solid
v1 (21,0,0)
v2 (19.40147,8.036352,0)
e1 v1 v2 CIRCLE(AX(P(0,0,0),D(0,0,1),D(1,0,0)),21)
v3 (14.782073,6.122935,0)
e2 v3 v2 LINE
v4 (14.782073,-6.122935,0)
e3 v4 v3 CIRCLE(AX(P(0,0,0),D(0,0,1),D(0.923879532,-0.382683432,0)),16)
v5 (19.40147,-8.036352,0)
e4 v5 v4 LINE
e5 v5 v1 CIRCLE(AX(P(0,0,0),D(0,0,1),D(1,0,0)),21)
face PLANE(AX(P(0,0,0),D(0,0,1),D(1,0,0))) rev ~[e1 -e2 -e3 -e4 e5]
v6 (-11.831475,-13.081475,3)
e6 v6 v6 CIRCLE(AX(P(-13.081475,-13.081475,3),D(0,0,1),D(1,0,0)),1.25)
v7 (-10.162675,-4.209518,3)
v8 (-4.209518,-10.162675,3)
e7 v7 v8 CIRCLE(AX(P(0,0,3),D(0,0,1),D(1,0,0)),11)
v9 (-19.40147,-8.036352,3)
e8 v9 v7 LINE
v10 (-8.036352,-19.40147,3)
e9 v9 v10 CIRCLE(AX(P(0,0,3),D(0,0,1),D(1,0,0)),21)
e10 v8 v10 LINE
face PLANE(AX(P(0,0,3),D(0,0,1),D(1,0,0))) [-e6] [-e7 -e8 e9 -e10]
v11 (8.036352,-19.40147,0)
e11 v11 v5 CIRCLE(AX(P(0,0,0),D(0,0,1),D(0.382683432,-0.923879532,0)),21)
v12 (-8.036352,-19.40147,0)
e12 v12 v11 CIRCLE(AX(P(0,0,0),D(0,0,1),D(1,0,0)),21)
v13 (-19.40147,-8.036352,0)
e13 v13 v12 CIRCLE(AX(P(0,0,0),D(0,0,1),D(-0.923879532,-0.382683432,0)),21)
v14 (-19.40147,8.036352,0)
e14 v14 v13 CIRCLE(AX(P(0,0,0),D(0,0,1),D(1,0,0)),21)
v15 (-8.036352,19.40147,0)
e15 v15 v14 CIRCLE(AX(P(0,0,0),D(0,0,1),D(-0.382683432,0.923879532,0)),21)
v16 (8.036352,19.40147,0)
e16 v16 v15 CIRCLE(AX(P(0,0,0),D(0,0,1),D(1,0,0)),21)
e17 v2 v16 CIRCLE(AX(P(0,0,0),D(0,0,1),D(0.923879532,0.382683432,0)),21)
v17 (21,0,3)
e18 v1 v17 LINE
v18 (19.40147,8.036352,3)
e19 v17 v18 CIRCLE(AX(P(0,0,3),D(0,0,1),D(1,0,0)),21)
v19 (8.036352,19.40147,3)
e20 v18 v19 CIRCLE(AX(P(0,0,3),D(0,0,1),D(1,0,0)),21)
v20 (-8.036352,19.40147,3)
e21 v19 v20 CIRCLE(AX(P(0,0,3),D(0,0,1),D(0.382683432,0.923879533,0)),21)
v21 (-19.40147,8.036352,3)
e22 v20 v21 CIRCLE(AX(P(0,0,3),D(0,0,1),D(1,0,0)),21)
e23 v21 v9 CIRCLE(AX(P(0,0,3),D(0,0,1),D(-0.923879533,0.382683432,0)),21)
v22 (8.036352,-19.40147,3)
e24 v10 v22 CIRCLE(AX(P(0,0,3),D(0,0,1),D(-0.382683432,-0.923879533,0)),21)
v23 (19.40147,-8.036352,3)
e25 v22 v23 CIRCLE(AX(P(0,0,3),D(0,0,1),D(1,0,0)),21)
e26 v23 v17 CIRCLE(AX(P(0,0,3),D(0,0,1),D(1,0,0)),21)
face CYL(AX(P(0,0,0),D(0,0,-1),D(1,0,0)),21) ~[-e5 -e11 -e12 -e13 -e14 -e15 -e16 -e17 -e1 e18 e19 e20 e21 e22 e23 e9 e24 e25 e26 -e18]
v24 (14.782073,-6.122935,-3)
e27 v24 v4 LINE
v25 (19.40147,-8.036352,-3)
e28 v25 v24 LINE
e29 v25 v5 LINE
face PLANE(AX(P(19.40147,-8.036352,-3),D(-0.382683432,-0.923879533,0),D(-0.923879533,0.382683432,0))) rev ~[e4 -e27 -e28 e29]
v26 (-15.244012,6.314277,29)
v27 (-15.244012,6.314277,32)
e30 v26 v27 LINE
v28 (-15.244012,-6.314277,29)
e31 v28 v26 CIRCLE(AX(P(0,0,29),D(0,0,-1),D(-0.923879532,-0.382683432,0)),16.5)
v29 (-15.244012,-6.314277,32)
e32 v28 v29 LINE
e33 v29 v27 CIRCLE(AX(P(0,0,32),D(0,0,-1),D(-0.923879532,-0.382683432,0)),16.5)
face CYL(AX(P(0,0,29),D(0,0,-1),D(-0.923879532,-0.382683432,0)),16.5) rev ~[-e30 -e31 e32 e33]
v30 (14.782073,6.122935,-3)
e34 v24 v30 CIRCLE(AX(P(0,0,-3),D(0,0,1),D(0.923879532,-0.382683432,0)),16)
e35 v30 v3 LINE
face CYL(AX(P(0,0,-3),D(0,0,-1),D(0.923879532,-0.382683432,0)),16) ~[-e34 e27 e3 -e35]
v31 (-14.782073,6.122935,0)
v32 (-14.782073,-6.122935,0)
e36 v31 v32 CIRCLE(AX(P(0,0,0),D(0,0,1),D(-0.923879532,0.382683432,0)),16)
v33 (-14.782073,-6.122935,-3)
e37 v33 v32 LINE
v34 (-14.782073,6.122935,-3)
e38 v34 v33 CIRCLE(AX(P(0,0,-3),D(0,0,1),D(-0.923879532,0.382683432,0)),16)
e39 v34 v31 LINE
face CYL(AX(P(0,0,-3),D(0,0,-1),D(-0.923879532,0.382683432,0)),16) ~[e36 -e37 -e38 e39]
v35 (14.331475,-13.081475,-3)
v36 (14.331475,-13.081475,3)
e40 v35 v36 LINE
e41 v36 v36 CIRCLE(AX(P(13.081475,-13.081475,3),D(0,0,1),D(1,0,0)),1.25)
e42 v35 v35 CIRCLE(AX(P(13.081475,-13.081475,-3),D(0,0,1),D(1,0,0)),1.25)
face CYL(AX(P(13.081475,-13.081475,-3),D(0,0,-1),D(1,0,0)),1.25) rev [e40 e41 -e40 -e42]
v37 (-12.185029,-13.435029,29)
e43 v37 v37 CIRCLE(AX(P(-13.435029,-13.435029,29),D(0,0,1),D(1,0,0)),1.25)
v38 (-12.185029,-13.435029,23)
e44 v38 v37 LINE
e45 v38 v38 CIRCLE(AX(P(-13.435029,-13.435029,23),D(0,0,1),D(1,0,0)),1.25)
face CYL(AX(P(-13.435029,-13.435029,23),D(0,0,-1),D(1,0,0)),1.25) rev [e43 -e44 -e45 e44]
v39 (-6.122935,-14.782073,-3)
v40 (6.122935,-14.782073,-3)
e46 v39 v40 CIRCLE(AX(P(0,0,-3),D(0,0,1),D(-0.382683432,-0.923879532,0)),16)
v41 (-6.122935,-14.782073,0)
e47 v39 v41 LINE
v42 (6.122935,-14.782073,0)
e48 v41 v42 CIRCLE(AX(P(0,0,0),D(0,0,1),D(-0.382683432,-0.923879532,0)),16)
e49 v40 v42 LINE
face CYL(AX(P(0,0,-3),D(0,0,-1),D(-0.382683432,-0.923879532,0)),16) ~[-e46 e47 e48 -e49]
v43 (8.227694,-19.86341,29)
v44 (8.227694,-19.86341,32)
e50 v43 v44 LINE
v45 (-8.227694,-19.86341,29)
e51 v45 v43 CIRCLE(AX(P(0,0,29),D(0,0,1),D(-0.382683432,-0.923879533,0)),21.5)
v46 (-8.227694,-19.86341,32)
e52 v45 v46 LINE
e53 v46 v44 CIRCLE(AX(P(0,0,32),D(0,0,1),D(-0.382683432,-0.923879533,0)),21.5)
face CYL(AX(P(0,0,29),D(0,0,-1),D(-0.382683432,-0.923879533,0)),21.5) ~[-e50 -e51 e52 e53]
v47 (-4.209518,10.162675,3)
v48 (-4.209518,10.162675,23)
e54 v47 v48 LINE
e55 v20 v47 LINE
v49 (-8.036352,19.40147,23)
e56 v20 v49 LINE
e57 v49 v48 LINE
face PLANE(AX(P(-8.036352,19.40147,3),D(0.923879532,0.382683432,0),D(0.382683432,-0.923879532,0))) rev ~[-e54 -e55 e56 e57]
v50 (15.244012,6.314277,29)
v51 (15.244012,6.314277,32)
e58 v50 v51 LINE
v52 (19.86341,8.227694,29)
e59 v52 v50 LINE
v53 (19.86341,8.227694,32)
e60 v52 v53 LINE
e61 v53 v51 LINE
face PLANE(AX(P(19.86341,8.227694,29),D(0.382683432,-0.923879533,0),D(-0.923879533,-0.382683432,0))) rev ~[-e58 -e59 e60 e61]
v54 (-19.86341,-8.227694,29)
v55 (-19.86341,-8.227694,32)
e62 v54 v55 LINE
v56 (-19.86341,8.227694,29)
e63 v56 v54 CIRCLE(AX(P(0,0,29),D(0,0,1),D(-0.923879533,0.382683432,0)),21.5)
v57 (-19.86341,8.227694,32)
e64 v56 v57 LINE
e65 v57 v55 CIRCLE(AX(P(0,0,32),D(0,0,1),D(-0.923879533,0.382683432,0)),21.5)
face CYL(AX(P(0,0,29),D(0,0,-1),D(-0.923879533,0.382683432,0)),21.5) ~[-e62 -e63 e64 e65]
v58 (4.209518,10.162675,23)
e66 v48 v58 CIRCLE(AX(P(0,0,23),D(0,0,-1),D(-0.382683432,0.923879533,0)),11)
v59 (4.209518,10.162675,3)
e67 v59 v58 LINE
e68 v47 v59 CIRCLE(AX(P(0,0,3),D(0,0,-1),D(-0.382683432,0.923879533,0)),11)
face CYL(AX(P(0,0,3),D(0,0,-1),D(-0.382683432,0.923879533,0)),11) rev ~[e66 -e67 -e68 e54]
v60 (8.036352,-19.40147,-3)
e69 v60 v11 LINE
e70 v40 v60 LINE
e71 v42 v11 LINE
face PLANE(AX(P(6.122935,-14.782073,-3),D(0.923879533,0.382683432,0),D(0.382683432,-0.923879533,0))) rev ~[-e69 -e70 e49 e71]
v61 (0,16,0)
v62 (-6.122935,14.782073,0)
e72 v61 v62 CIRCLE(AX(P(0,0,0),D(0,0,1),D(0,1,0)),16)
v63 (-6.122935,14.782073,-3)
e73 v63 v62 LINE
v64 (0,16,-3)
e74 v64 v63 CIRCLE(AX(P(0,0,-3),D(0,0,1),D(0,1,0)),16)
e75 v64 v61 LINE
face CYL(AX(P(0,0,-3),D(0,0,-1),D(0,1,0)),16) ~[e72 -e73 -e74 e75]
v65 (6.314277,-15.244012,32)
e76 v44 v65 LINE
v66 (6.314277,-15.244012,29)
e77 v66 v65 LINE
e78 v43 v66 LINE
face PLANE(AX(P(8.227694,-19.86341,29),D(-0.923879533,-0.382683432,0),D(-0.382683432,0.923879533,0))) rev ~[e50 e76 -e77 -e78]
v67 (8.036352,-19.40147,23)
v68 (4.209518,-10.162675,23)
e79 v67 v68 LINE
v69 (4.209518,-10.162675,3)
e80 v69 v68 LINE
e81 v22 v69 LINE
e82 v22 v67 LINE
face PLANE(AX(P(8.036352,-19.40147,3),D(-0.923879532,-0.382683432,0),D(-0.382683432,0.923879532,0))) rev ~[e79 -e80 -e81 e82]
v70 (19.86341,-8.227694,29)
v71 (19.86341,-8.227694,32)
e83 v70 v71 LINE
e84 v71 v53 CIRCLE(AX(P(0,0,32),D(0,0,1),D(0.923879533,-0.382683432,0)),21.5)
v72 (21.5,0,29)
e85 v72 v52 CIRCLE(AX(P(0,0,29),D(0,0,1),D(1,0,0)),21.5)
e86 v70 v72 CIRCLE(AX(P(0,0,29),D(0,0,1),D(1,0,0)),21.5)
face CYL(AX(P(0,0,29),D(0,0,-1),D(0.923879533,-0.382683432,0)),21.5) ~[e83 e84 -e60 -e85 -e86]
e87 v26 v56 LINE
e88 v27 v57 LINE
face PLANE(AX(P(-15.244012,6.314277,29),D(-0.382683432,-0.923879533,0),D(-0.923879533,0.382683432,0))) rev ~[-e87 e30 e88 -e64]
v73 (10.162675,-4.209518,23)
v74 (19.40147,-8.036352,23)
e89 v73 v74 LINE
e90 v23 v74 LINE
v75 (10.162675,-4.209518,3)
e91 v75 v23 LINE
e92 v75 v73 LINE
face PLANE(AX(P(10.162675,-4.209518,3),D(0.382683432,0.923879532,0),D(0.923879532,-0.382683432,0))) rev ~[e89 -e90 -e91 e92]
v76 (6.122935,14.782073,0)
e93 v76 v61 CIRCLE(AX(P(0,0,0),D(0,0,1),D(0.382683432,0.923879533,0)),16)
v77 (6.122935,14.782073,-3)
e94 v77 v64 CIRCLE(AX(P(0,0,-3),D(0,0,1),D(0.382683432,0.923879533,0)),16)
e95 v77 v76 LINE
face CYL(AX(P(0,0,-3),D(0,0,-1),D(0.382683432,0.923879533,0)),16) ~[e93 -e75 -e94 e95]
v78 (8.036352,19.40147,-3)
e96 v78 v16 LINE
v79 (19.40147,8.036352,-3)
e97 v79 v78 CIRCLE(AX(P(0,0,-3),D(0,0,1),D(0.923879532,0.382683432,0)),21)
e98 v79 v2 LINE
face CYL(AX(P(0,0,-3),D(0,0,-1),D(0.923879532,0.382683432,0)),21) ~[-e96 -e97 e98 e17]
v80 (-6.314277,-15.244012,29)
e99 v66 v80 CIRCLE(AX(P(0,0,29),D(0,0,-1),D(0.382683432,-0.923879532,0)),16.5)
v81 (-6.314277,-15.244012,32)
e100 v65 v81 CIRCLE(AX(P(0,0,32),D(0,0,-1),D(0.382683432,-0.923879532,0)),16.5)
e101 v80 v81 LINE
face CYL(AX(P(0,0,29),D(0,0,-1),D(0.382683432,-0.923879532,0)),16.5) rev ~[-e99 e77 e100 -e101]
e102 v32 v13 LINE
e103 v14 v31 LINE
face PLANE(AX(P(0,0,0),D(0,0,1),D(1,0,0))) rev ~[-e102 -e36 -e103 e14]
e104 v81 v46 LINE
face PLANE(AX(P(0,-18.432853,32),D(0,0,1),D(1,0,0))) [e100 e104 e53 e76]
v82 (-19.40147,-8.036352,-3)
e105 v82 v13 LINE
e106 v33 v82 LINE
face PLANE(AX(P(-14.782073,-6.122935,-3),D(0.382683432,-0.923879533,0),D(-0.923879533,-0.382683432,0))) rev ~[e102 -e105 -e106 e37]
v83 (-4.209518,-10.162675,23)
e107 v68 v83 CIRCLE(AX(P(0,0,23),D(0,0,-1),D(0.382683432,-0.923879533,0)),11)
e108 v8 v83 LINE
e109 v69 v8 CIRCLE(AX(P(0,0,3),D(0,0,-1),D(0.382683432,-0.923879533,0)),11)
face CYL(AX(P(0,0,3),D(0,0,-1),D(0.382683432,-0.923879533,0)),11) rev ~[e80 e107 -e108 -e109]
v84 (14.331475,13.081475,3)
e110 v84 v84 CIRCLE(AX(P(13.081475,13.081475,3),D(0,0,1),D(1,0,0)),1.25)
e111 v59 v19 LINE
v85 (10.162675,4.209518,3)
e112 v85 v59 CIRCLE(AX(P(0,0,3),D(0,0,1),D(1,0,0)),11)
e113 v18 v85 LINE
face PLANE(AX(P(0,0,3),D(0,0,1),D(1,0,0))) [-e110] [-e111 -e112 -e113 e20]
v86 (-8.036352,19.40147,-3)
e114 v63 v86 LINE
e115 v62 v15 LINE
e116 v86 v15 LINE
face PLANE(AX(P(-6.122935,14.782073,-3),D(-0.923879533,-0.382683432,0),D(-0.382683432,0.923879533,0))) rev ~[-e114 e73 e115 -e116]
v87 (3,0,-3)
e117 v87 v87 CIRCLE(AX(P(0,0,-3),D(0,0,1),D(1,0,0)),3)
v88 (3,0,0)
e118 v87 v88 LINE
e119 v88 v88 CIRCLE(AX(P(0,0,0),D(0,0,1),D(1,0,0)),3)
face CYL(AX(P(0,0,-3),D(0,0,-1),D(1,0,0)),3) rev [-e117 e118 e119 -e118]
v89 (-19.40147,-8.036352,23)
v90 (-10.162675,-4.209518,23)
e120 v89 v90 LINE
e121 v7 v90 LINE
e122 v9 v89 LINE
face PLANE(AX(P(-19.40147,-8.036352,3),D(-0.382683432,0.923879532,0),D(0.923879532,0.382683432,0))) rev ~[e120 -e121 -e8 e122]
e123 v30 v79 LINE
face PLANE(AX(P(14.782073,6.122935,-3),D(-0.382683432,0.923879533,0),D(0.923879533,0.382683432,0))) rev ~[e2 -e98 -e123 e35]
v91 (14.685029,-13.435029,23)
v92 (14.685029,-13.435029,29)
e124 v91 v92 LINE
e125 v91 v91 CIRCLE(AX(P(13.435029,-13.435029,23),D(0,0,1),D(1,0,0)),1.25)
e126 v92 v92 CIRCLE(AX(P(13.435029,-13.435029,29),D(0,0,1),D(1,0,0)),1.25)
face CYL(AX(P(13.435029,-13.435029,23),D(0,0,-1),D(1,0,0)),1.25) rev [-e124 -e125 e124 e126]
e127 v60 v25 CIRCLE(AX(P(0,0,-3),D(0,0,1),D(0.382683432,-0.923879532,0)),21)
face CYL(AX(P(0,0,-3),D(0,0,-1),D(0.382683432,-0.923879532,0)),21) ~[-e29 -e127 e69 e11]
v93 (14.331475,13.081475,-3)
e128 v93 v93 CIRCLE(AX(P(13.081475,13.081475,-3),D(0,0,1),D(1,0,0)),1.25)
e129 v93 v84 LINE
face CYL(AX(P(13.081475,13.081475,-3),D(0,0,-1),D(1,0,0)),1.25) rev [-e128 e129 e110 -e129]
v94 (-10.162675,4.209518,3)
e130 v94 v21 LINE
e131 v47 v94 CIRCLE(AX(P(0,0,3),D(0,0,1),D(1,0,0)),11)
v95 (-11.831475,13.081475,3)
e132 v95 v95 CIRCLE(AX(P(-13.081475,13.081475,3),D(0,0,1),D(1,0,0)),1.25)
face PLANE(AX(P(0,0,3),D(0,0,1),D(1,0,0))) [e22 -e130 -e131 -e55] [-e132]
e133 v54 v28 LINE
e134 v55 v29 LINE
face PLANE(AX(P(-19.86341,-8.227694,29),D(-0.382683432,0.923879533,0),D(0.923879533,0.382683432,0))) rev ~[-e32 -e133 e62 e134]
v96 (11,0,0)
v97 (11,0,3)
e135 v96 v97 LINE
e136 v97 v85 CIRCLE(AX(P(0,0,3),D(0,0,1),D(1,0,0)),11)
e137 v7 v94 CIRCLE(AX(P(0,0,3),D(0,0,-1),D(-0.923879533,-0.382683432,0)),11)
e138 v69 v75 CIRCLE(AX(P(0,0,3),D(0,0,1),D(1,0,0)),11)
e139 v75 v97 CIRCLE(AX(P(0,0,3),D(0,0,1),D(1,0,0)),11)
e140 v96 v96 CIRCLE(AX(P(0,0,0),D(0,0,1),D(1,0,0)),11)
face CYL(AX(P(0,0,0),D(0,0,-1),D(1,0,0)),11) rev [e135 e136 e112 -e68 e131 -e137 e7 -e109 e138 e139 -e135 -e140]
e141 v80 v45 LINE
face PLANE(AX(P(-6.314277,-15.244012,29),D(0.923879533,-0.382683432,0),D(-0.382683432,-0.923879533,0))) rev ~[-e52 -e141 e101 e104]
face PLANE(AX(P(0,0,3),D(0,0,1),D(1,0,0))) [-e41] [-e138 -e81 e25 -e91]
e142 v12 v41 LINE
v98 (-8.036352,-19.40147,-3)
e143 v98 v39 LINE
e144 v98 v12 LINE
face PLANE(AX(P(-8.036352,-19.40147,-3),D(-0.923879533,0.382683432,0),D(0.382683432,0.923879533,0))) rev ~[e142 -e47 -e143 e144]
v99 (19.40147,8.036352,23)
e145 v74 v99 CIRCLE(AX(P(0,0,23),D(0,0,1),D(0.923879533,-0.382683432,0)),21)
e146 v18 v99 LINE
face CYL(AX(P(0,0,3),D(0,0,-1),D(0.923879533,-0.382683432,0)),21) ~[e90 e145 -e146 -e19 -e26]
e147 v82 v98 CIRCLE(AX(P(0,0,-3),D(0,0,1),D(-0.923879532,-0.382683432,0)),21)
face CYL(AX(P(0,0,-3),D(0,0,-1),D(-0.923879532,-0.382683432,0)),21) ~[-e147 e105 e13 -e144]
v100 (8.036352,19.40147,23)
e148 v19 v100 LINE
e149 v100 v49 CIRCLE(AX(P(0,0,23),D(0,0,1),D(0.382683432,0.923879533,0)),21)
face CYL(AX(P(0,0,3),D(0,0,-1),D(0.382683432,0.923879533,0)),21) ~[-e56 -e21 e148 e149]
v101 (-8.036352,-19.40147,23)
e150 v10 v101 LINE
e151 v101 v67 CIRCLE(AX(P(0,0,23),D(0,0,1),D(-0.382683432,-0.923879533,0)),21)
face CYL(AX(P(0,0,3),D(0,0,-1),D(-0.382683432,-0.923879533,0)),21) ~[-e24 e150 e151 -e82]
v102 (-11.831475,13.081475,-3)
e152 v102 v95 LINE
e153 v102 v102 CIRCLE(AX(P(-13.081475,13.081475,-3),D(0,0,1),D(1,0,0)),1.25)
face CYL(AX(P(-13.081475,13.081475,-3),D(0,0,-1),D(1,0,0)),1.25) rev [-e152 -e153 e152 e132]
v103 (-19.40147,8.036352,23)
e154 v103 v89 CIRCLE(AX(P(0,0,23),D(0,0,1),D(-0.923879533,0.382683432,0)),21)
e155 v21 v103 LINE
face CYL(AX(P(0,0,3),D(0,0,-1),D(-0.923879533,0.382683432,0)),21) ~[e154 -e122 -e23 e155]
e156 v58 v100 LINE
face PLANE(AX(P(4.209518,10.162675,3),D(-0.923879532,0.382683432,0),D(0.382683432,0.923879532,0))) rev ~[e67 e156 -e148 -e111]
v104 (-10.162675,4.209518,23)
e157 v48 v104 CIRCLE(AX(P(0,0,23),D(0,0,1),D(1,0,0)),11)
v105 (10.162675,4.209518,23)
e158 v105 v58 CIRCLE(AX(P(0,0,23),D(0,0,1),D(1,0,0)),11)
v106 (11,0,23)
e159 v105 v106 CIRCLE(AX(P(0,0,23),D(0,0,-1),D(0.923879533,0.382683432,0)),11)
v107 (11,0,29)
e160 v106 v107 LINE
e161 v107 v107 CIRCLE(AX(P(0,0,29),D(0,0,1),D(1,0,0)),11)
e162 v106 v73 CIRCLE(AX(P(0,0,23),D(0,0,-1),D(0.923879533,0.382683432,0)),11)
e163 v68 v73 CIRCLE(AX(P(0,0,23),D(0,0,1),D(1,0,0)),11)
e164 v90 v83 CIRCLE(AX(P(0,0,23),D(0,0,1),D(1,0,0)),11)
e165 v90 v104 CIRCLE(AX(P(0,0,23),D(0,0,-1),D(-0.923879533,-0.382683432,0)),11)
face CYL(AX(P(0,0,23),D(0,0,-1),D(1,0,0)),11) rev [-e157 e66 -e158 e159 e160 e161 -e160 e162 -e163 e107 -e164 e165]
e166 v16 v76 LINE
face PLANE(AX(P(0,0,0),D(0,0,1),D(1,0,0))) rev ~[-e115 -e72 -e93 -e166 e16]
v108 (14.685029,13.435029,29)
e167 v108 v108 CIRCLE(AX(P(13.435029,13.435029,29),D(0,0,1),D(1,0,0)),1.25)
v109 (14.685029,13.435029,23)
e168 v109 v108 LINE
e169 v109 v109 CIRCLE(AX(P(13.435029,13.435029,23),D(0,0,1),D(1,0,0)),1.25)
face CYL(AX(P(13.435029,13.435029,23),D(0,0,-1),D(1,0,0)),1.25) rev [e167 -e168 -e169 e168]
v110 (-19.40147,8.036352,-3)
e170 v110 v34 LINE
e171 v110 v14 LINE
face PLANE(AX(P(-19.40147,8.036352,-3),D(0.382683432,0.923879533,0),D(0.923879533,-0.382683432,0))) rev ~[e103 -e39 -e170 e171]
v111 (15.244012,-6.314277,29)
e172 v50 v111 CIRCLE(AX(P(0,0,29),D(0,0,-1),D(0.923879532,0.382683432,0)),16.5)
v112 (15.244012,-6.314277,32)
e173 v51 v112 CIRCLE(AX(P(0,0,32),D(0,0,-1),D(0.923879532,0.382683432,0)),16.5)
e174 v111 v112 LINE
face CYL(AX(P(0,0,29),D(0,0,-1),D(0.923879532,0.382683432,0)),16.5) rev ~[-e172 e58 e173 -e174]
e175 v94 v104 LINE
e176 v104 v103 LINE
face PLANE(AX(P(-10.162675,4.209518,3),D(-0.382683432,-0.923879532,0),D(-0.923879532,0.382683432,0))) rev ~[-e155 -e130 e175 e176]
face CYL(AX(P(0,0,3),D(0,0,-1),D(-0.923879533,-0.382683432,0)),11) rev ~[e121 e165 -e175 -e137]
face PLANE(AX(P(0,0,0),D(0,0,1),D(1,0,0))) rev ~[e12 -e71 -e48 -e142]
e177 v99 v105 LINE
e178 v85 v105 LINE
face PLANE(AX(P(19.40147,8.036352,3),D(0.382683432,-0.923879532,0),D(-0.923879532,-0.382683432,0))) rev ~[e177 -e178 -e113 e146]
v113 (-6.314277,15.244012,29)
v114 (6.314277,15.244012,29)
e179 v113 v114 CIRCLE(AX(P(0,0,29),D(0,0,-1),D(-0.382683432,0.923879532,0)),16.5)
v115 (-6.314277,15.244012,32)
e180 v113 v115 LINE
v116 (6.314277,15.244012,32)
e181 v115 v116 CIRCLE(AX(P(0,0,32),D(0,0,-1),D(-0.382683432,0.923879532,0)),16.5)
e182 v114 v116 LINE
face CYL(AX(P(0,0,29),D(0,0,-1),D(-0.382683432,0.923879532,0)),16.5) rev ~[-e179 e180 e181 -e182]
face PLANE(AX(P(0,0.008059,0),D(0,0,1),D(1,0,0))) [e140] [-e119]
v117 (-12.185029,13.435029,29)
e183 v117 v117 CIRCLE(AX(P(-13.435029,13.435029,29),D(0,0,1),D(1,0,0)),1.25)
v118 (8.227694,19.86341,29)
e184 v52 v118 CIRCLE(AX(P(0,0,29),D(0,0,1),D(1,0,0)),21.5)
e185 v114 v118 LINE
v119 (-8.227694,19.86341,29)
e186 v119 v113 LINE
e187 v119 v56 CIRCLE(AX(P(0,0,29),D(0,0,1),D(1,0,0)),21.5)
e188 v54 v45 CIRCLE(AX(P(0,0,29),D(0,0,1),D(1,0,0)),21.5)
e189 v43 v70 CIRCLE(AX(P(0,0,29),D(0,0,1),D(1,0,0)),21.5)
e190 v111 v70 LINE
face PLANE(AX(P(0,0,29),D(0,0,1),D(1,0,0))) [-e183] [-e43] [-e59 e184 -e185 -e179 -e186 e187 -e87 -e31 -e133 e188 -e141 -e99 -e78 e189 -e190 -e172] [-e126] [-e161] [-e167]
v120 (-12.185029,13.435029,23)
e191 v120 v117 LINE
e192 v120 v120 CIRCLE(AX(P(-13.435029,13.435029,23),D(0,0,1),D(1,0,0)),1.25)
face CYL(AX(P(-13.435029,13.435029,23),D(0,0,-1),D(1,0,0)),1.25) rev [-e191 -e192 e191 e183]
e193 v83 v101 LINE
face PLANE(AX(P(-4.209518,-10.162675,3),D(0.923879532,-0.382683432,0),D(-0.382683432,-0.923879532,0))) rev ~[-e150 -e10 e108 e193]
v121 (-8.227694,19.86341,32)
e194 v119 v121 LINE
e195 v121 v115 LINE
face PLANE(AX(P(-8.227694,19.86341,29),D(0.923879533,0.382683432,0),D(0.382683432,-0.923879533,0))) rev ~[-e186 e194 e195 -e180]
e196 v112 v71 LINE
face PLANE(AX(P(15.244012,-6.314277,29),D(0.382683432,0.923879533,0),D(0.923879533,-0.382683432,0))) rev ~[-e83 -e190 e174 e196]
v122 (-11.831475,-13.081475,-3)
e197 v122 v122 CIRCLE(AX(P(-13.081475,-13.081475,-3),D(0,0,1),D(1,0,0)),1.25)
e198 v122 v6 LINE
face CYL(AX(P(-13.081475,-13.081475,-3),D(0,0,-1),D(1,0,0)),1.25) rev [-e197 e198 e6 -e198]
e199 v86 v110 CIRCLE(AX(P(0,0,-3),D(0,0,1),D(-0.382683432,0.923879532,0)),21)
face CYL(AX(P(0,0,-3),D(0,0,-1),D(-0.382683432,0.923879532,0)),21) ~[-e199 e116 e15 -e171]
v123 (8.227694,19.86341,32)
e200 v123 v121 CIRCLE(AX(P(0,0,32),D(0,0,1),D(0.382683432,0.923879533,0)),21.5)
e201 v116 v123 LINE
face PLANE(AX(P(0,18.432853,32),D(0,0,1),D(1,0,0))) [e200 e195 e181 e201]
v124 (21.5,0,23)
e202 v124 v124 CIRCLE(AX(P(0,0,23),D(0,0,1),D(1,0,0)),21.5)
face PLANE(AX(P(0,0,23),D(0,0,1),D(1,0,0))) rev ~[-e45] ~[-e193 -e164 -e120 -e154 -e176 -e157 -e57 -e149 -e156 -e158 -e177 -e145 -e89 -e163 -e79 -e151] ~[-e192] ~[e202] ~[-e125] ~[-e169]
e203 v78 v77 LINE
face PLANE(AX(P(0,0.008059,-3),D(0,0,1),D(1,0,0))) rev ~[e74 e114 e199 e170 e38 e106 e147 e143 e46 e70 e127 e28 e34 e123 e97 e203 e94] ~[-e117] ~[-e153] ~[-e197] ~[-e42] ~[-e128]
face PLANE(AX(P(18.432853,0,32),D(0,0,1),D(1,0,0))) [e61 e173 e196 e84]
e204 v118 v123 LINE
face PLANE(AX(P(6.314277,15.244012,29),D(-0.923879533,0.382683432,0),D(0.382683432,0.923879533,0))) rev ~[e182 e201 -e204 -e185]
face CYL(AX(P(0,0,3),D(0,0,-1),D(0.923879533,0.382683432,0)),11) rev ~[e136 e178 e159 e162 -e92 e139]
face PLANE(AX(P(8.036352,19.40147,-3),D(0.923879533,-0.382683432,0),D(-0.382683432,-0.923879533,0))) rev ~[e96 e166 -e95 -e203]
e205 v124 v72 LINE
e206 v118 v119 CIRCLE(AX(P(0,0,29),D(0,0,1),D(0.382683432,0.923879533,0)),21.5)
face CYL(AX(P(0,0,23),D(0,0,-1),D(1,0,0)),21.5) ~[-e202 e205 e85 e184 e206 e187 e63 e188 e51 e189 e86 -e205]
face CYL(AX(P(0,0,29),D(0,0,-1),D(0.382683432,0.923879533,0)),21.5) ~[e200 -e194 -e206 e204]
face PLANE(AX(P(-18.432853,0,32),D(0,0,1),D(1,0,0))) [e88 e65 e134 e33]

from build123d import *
from build123d.topology import SkipClean

# Parameters (mm, degrees)
SKETCH1_R           = 21
SKETCH1_R_2         = 1.25
SKETCH1_R_3         = 11
BOSS_EXTRUDE1_DEPTH = 3
BOSS_EXTRUDE2_START = -3
SKETCH1_3_R         = 3
SKETCH1_3_R_2       = 1.25
BOSS_EXTRUDE2_DEPTH = 3
BOSS_EXTRUDE3_DEPTH = 20
SKETCH5_R           = 21.5
SKETCH5_R_2         = 11
SKETCH5_R_3         = 1.25
BOSS_EXTRUDE4_DEPTH = 6
BOSS_EXTRUDE5_DEPTH = 3


with BuildPart() as part:
    # Sketch1 → Boss-Extrude1 (new body)
    with BuildSketch(Plane.XY):
        Circle(SKETCH1_R)
        with Locations((-13.081475452, -13.081475452)):
            Circle(SKETCH1_R_2, mode=Mode.SUBTRACT)
        with Locations((13.081475452, -13.081475452)):
            Circle(SKETCH1_R_2, mode=Mode.SUBTRACT)
        with Locations((-13.081475452, 13.081475452)):
            Circle(SKETCH1_R_2, mode=Mode.SUBTRACT)
        Circle(SKETCH1_R_3, mode=Mode.SUBTRACT)
        with Locations((13.081475452, 13.081475452)):
            Circle(SKETCH1_R_2, mode=Mode.SUBTRACT)
    extrude(amount=BOSS_EXTRUDE1_DEPTH)

    # Sketch1<3> → Boss-Extrude2 (add)
    with BuildSketch(Plane.XY.offset(BOSS_EXTRUDE2_START)):
        with BuildLine():
            ThreePointArc((0, 16), (-3.121445152, 15.692564486), (-6.122934918, 14.78207252))
            Line((-6.122934918, 14.78207252), (-8.03635208, 19.401470183))
            ThreePointArc((-8.03635208, 19.401470183), (-14.849242405, 14.849242405), (-19.401470183, 8.03635208))
            Line((-19.401470183, 8.03635208), (-14.78207252, 6.122934918))
            ThreePointArc((-14.78207252, 6.122934918), (-16, 0), (-14.78207252, -6.122934918))
            Line((-14.78207252, -6.122934918), (-19.401470183, -8.03635208))
            ThreePointArc((-19.401470183, -8.03635208), (-14.849242405, -14.849242405), (-8.03635208, -19.401470183))
            Line((-8.03635208, -19.401470183), (-6.122934918, -14.78207252))
            ThreePointArc((-6.122934918, -14.78207252), (0, -16), (6.122934918, -14.78207252))
            Line((6.122934918, -14.78207252), (8.03635208, -19.401470183))
            ThreePointArc((8.03635208, -19.401470183), (14.849242405, -14.849242405), (19.401470183, -8.03635208))
            Line((19.401470183, -8.03635208), (14.78207252, -6.122934918))
            ThreePointArc((14.78207252, -6.122934918), (16, 0), (14.78207252, 6.122934918))
            Line((14.78207252, 6.122934918), (19.401470183, 8.03635208))
            ThreePointArc((19.401470183, 8.03635208), (14.849242405, 14.849242405), (8.03635208, 19.401470183))
            Line((8.03635208, 19.401470183), (6.122934918, 14.78207252))
            ThreePointArc((6.122934918, 14.78207252), (3.121445152, 15.692564486), (0, 16))
        make_face()
        Circle(SKETCH1_3_R, mode=Mode.SUBTRACT)
        with Locations((-13.081475452, -13.081475452)):
            Circle(SKETCH1_3_R_2, mode=Mode.SUBTRACT)
        with Locations((13.081475452, -13.081475452)):
            Circle(SKETCH1_3_R_2, mode=Mode.SUBTRACT)
        with Locations((-13.081475452, 13.081475452)):
            Circle(SKETCH1_3_R_2, mode=Mode.SUBTRACT)
        with Locations((13.081475452, 13.081475452)):
            Circle(SKETCH1_3_R_2, mode=Mode.SUBTRACT)
    extrude(amount=BOSS_EXTRUDE2_DEPTH)

    # Sketch2 → Boss-Extrude3 (add)
    with SkipClean():  # the faces are left unmerged after this step: merging them gives an invalid solid
        with BuildSketch(Plane.XY.offset(3)):
            with BuildLine():
                Line((-10.162674858, 4.209517756), (-19.401470183, 8.03635208))
                ThreePointArc((-19.401470183, 8.03635208), (-21, 0), (-19.401470183, -8.03635208))
                Line((-19.401470183, -8.03635208), (-10.162674858, -4.209517756))
                ThreePointArc((-10.162674858, -4.209517756), (-11, 0), (-10.162674858, 4.209517756))
            make_face()
            with BuildLine():
                ThreePointArc((8.03635208, 19.401470183), (0, 21), (-8.03635208, 19.401470183))
                Line((-8.03635208, 19.401470183), (-4.209517756, 10.162674858))
                ThreePointArc((-4.209517756, 10.162674858), (0, 11), (4.209517756, 10.162674858))
                Line((4.209517756, 10.162674858), (8.03635208, 19.401470183))
            make_face()
            with BuildLine():
                Line((-4.209517756, -10.162674858), (-8.03635208, -19.401470183))
                ThreePointArc((-8.03635208, -19.401470183), (0, -21), (8.03635208, -19.401470183))
                Line((8.03635208, -19.401470183), (4.209517756, -10.162674858))
                ThreePointArc((4.209517756, -10.162674858), (0, -11), (-4.209517756, -10.162674858))
            make_face()
            with BuildLine():
                ThreePointArc((19.401470183, -8.03635208), (21, 0), (19.401470183, 8.03635208))
                Line((19.401470183, 8.03635208), (10.162674858, 4.209517756))
                ThreePointArc((10.162674858, 4.209517756), (11, 0), (10.162674858, -4.209517756))
                Line((10.162674858, -4.209517756), (19.401470183, -8.03635208))
            make_face()
        extrude(amount=BOSS_EXTRUDE3_DEPTH)

    # Sketch5 → Boss-Extrude4 (add)
    with SkipClean():  # the faces are left unmerged after this step: merging them gives an invalid solid
        with BuildSketch(Plane.XY.offset(23)):
            Circle(SKETCH5_R)
            Circle(SKETCH5_R_2, mode=Mode.SUBTRACT)
            with Locations((-13.435028843, 13.435028843)):
                Circle(SKETCH5_R_3, mode=Mode.SUBTRACT)
            with Locations((13.435028843, 13.435028843)):
                Circle(SKETCH5_R_3, mode=Mode.SUBTRACT)
            with Locations((13.435028843, -13.435028843)):
                Circle(SKETCH5_R_3, mode=Mode.SUBTRACT)
            with Locations((-13.435028843, -13.435028843)):
                Circle(SKETCH5_R_3, mode=Mode.SUBTRACT)
        extrude(amount=BOSS_EXTRUDE4_DEPTH)

    # Sketch6 → Boss-Extrude5 (add)
    with SkipClean():  # the faces are left unmerged after this step: merging them gives an invalid solid
        with BuildSketch(Plane.XY.offset(29)):
            with BuildLine():
                ThreePointArc((-15.244012286, -6.314276634), (-16.5, 0), (-15.244012286, 6.314276634))
                Line((-15.244012286, 6.314276634), (-19.863409949, 8.227693796))
                ThreePointArc((-19.863409949, 8.227693796), (-21.5, 0), (-19.863409949, -8.227693796))
                Line((-19.863409949, -8.227693796), (-15.244012286, -6.314276634))
            make_face()
            with BuildLine():
                Line((-8.227693796, 19.863409949), (-6.314276634, 15.244012286))
                ThreePointArc((-6.314276634, 15.244012286), (0, 16.5), (6.314276634, 15.244012286))
                Line((6.314276634, 15.244012286), (8.227693796, 19.863409949))
                ThreePointArc((8.227693796, 19.863409949), (0, 21.5), (-8.227693796, 19.863409949))
            make_face()
            with BuildLine():
                ThreePointArc((6.314276634, -15.244012286), (0, -16.5), (-6.314276634, -15.244012286))
                Line((-6.314276634, -15.244012286), (-8.227693796, -19.863409949))
                ThreePointArc((-8.227693796, -19.863409949), (0, -21.5), (8.227693796, -19.863409949))
                Line((8.227693796, -19.863409949), (6.314276634, -15.244012286))
            make_face()
            with BuildLine():
                Line((19.863409949, 8.227693796), (15.244012286, 6.314276634))
                ThreePointArc((15.244012286, 6.314276634), (16.5, 0), (15.244012286, -6.314276634))
                Line((15.244012286, -6.314276634), (19.863409949, -8.227693796))
                ThreePointArc((19.863409949, -8.227693796), (21.5, 0), (19.863409949, 8.227693796))
            make_face()
        extrude(amount=BOSS_EXTRUDE5_DEPTH)


solid = part.part
